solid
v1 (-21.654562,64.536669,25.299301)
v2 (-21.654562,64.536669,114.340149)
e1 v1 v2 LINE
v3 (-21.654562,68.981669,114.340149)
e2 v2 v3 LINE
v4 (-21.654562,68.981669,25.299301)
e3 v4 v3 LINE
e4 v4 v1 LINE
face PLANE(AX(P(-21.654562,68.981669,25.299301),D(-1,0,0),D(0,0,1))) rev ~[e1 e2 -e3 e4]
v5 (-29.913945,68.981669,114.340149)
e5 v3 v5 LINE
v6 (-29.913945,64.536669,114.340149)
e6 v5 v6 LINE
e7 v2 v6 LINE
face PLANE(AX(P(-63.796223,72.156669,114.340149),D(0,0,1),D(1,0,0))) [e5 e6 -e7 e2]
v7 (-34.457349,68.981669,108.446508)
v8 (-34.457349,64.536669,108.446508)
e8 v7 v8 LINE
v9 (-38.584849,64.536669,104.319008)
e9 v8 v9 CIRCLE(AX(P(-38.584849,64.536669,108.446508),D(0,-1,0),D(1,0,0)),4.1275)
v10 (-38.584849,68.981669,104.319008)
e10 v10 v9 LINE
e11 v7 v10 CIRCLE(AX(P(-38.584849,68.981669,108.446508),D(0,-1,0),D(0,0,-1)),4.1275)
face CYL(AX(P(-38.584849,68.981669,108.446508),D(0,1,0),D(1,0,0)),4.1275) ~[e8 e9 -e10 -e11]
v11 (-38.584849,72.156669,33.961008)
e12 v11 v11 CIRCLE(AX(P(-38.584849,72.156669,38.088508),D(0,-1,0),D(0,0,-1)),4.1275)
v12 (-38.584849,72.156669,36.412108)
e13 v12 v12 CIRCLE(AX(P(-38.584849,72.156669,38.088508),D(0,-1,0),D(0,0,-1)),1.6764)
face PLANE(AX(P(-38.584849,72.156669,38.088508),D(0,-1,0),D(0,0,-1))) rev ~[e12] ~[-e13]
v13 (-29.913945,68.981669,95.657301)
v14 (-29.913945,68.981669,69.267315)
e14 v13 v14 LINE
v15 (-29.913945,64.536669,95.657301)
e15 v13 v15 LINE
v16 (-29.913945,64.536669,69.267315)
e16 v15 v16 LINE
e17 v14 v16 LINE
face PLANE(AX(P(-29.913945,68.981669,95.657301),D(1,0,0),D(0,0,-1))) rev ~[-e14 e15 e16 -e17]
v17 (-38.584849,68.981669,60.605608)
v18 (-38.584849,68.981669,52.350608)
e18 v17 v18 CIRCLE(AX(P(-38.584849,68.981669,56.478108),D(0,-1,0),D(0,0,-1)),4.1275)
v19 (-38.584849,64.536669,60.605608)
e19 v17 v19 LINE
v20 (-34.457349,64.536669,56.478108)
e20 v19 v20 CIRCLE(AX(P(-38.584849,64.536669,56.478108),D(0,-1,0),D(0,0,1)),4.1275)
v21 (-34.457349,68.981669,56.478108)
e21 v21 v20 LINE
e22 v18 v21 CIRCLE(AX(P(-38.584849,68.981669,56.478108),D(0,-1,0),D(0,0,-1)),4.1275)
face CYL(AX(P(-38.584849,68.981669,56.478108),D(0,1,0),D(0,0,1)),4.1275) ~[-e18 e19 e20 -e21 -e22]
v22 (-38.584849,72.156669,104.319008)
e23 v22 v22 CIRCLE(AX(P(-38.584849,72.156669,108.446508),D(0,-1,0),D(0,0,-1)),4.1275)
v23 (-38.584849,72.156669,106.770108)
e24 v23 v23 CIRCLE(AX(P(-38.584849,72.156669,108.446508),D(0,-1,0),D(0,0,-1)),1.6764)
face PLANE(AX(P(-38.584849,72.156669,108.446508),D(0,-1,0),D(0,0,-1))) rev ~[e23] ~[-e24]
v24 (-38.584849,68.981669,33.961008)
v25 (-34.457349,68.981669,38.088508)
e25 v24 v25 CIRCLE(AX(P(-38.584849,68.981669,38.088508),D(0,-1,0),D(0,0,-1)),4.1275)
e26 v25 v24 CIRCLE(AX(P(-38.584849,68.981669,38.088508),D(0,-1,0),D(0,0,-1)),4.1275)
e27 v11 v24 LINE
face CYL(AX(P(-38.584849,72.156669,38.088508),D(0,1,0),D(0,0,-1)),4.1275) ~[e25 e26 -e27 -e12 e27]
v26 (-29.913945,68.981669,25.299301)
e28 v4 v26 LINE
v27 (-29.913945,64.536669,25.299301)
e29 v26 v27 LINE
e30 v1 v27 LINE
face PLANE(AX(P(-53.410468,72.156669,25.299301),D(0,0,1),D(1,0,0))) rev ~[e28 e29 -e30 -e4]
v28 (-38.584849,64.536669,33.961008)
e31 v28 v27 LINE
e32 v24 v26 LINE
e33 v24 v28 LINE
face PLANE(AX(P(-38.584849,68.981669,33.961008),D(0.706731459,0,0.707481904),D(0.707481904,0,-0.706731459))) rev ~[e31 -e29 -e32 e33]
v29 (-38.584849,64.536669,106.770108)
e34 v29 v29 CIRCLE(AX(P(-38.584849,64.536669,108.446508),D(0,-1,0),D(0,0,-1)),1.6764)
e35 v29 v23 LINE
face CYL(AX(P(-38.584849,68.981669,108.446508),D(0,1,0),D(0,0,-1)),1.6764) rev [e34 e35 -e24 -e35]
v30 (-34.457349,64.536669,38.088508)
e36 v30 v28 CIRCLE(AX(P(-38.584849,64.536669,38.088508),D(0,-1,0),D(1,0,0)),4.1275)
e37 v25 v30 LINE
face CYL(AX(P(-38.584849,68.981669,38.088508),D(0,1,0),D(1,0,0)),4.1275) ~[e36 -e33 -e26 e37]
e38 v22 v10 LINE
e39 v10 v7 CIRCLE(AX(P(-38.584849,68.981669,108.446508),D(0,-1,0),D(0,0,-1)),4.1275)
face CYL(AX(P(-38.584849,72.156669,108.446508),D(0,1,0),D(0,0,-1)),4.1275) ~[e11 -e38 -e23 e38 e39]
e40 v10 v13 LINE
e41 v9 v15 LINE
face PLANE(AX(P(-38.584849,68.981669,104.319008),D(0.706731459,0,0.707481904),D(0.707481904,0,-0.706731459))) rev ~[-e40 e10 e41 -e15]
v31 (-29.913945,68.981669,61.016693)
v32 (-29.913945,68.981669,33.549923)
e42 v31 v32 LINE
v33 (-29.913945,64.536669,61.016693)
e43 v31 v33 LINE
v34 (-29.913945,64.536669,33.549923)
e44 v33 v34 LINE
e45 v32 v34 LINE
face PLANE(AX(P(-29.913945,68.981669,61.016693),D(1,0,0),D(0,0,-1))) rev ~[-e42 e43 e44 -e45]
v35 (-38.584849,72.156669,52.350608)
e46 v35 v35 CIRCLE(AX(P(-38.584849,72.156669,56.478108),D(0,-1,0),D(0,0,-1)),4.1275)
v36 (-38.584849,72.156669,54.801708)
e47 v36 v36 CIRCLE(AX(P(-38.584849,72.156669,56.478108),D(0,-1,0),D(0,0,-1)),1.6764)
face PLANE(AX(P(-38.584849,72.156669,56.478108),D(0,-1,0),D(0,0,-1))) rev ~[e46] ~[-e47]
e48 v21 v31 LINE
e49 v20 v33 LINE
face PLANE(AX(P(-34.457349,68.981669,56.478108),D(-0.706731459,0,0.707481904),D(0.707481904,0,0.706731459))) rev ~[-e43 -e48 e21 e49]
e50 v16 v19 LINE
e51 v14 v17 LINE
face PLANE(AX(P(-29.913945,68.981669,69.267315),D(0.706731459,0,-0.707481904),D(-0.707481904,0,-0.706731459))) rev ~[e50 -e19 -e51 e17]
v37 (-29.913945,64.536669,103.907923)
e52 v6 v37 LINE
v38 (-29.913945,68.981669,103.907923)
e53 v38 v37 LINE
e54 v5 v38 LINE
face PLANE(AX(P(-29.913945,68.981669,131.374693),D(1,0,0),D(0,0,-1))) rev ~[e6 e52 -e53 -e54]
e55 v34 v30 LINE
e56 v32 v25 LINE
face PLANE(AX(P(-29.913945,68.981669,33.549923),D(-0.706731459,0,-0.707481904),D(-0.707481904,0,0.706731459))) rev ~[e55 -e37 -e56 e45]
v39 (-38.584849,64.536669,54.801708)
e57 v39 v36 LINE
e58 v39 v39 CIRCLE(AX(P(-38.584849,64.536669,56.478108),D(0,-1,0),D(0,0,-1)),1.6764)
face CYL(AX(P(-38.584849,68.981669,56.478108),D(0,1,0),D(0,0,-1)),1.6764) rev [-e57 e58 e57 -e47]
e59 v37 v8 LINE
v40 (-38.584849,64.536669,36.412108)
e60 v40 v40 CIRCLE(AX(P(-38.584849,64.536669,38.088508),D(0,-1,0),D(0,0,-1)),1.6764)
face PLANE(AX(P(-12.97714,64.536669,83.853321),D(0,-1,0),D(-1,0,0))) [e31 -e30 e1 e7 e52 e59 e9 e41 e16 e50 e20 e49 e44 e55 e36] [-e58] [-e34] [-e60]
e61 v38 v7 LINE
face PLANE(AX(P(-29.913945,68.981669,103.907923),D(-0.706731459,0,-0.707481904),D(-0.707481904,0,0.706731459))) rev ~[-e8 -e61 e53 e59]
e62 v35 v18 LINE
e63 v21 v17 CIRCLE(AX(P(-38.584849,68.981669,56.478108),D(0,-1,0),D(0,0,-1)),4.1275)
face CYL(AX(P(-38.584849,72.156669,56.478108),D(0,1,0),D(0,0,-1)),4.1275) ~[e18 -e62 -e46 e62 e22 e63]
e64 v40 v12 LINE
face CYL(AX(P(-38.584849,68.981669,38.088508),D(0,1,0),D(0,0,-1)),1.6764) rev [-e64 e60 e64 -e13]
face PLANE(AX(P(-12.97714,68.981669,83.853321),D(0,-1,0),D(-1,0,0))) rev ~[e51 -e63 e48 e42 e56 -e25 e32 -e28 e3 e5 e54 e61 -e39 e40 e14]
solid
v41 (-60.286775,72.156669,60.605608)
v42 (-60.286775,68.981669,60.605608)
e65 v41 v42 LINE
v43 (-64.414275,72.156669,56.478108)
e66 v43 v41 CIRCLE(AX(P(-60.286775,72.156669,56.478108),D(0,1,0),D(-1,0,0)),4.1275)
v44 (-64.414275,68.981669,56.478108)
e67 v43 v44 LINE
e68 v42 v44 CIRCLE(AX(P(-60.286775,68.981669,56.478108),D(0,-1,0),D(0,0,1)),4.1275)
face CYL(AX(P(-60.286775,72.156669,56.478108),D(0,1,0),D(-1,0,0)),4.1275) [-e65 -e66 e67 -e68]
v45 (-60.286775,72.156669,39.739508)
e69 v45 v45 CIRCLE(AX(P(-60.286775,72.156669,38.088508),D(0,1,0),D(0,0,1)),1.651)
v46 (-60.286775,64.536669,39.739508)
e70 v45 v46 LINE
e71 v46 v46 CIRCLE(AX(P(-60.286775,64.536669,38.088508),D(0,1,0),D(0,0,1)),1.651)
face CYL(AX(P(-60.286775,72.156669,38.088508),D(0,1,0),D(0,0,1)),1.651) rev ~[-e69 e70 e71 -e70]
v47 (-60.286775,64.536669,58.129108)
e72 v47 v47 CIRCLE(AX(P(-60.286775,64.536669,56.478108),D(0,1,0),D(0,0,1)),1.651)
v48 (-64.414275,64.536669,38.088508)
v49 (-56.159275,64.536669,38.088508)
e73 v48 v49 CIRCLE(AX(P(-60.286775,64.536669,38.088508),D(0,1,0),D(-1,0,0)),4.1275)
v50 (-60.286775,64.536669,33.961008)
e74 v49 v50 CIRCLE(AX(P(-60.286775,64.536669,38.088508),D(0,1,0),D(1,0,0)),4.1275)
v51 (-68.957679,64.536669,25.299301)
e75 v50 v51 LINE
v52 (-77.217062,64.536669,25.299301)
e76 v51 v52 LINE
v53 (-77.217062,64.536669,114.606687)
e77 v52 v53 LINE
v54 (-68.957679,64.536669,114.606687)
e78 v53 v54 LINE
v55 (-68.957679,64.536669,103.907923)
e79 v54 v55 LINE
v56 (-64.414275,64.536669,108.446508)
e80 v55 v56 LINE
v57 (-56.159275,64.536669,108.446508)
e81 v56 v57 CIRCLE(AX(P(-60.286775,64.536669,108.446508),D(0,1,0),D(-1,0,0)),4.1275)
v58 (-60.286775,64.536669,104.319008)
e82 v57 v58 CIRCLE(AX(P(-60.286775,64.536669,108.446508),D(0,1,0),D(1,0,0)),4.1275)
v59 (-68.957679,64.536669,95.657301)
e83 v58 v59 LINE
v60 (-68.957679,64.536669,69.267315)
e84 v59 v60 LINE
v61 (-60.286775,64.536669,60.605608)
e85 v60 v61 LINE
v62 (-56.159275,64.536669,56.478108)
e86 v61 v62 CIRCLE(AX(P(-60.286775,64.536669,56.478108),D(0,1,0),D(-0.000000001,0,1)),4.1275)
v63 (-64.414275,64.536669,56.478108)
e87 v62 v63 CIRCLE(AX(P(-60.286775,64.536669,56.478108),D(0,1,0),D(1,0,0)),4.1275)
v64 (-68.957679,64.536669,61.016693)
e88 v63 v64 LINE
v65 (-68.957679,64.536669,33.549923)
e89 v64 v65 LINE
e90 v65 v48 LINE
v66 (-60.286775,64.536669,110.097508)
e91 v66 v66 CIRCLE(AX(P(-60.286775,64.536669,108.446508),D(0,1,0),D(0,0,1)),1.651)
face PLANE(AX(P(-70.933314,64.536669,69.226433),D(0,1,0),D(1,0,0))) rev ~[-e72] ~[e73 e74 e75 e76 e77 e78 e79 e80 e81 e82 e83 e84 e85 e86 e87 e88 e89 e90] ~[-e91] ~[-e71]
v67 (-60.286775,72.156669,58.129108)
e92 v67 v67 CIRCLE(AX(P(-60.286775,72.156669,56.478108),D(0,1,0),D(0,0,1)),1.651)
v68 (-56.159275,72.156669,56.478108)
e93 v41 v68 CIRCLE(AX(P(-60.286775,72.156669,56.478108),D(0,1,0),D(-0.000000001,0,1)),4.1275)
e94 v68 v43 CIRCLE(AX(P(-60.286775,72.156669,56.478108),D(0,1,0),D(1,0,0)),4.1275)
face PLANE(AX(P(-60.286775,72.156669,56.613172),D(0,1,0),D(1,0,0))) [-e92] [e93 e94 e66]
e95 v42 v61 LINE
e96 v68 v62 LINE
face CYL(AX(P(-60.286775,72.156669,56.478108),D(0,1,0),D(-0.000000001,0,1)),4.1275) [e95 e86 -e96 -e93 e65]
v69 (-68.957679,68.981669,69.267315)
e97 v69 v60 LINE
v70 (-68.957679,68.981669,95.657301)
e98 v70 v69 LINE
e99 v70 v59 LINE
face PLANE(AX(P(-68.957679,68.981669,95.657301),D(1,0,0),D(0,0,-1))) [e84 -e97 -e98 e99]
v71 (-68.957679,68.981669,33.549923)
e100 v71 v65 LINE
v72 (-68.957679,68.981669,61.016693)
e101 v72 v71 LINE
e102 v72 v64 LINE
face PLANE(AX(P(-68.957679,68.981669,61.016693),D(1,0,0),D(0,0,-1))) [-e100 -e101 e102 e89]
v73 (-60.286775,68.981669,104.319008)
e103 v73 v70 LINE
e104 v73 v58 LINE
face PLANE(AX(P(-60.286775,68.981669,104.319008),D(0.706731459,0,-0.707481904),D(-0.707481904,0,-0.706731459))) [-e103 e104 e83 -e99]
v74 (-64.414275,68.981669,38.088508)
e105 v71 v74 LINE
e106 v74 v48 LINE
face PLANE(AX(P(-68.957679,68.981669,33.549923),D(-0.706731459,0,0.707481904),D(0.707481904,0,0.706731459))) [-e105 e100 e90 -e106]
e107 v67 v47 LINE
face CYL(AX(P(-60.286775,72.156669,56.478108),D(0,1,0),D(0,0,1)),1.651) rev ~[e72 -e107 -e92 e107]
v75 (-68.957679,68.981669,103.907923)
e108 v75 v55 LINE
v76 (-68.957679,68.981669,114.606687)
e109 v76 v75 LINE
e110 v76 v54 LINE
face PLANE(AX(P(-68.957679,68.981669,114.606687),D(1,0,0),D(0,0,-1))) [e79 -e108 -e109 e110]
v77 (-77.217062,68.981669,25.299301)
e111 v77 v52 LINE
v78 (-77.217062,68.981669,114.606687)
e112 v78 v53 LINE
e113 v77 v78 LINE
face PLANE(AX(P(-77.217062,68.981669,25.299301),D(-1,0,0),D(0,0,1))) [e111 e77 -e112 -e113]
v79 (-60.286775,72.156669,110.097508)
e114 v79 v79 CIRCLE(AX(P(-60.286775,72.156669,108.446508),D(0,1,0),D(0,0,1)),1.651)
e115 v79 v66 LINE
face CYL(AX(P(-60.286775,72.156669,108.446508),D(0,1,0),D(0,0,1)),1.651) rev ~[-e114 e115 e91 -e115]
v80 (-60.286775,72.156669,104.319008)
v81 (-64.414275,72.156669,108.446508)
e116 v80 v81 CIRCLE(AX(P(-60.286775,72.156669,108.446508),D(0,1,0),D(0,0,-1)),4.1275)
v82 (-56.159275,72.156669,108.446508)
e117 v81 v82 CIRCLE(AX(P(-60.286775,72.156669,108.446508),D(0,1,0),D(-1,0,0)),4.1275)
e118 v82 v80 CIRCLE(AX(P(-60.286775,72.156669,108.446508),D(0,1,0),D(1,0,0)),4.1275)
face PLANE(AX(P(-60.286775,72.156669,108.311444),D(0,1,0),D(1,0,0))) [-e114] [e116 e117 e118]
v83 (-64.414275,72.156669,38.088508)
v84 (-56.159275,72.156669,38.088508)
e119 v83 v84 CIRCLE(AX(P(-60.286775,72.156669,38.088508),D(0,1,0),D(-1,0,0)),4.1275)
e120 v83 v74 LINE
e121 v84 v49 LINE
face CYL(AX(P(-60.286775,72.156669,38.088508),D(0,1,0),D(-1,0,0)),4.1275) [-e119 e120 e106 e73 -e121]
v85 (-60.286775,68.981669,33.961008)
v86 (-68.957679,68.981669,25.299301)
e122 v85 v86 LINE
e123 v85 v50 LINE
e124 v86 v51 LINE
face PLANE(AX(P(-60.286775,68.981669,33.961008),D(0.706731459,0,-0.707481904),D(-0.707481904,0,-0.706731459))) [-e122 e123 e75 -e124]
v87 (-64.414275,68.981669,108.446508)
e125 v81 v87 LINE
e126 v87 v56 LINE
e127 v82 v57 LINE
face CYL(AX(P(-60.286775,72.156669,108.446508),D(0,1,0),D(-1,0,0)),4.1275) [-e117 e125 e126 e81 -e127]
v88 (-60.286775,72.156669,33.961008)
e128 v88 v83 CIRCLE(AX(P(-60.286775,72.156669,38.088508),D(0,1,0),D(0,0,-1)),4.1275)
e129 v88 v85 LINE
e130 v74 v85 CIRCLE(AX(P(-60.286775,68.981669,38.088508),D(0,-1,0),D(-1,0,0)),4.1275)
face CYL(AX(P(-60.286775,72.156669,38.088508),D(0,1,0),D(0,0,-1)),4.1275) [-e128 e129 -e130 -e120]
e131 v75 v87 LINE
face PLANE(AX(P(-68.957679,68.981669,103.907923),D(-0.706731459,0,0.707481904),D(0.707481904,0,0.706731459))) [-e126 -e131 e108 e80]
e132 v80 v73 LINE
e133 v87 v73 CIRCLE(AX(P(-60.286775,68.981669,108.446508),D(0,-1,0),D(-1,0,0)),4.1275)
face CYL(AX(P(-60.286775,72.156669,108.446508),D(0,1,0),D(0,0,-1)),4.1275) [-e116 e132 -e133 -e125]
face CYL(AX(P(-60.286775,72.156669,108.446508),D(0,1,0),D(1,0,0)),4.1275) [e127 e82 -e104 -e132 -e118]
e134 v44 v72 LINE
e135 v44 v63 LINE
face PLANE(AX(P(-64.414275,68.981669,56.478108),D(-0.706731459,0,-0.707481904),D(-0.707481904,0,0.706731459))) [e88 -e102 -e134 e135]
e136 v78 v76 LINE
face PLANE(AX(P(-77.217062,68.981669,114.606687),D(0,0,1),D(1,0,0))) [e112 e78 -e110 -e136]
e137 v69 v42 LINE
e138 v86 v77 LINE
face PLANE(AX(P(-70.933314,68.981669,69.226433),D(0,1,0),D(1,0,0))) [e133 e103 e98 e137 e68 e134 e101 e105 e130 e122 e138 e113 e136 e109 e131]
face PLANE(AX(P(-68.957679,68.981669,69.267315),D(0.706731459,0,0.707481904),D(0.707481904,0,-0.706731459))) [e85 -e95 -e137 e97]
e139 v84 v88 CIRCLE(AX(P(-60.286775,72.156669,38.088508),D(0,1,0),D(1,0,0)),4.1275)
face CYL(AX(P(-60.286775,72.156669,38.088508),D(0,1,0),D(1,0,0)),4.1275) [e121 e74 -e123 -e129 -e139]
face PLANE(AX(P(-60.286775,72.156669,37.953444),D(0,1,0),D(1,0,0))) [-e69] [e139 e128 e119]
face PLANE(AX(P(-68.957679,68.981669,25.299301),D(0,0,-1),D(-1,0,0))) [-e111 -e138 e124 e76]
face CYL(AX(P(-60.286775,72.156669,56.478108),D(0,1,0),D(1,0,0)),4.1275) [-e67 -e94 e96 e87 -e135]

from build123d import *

# Parameters (mm, degrees)
SKETCH1_R              = 4.1275
SKETCH1_R_2            = 1.6764
BOSS_EXTRUDE1_DEPTH    = 3.175
BOSS_EXTRUDE1_2_DEPTH  = 3.175
BOSS_EXTRUDE1_3_DEPTH  = 3.175
BOSS_EXTRUDE1_4_DEPTH  = 3.175
BOSS_EXTRUDE1_5_DEPTH  = 3.175
BOSS_EXTRUDE1_6_DEPTH  = 3.175
BOSS_EXTRUDE1_7_DEPTH  = 3.175
BOSS_EXTRUDE1_8_DEPTH  = 3.175
BOSS_EXTRUDE1_9_DEPTH  = 3.175
BOSS_EXTRUDE1_10_DEPTH = 3.175
BOSS_EXTRUDE1_11_DEPTH = 3.175
BOSS_EXTRUDE1_12_DEPTH = 3.175
SKETCH2_R              = 1.6764
SKETCH2_R_2            = 1.597419346
BOSS_EXTRUDE2_DEPTH    = 4.445
SKETCH3_R              = 4.1275
SKETCH3_R_2            = 1.6764
BOSS_EXTRUDE3_DEPTH    = 6.35
SKETCH5_W              = 93.927077551
SKETCH5_H              = 52.017280011
CUT_EXTRUDE1_DEPTH     = 189.093566893
SKETCH6_W              = 99.512687727
SKETCH6_H              = 74.862867045
CUT_EXTRUDE3_DEPTH     = 189.006725097
SKETCH7_R              = 1.651
BOSS_EXTRUDE5_DEPTH    = 7.62
BOSS_EXTRUDE5_2_DEPTH  = 7.62
BOSS_EXTRUDE5_3_DEPTH  = 7.62
BOSS_EXTRUDE6_DEPTH    = 4.445
SKETCH10_W             = 53.220622609
SKETCH10_H             = 98.471007051
CUT_EXTRUDE4_DEPTH     = 139.402426653


with BuildPart() as part:
    # Sketch1 → Boss-Extrude1 (new body)
    with BuildSketch(Plane(origin=(0, 72.156669294, 0), x_dir=(-1, 0, 0), z_dir=(0, -1, 0))):
        with Locations(Location((-13.434351276, 13.879892008, 0), (0, 0, 90))):
            Circle(SKETCH1_R)
        with Locations(Location((-13.434351276, 13.879892008, 0), (0, 0, 90))):
            Circle(SKETCH1_R_2, mode=Mode.SUBTRACT)
    extrude(amount=BOSS_EXTRUDE1_DEPTH)



with BuildPart() as body_2:
    # Sketch1 → Boss-Extrude1 2 (new body)
    with BuildSketch(Plane(origin=(0, 72.156669294, 0), x_dir=(-1, 0, 0), z_dir=(0, -1, 0))):
        with Locations(Location((38.584848724, 13.879892008, 0), (0, 0, 90))):
            Circle(SKETCH1_R)
        with Locations(Location((38.584848724, 13.879892008, 0), (0, 0, 90))):
            Circle(SKETCH1_R_2, mode=Mode.SUBTRACT)
    extrude(amount=BOSS_EXTRUDE1_2_DEPTH)



with BuildPart() as body_3:
    # Sketch1 → Boss-Extrude1 3 (new body)
    with BuildSketch(Plane(origin=(0, 72.156669294, 0), x_dir=(-1, 0, 0), z_dir=(0, -1, 0))):
        with Locations(Location((-13.434351276, -38.088507992, 0), (0, 0, 90))):
            Circle(SKETCH1_R)
        with Locations(Location((-13.434351276, -38.088507992, 0), (0, 0, 90))):
            Circle(SKETCH1_R_2, mode=Mode.SUBTRACT)
    extrude(amount=BOSS_EXTRUDE1_3_DEPTH)


with BuildPart() as body_4:
    # Sketch1 → Boss-Extrude1 4 (new body)
    with BuildSketch(Plane(origin=(0, 72.156669294, 0), x_dir=(-1, 0, 0), z_dir=(0, -1, 0))):
        with Locations(Location((38.584848724, -38.088507992, 0), (0, 0, 90))):
            Circle(SKETCH1_R)
        with Locations(Location((38.584848724, -38.088507992, 0), (0, 0, 90))):
            Circle(SKETCH1_R_2, mode=Mode.SUBTRACT)
    extrude(amount=BOSS_EXTRUDE1_4_DEPTH)


with BuildPart() as body_5:
    # Sketch1 → Boss-Extrude1 5 (new body)
    with BuildSketch(Plane(origin=(0, 72.156669294, 0), x_dir=(-1, 0, 0), z_dir=(0, -1, 0))):
        with Locations(Location((-13.434351276, -56.478107992, 0), (0, 0, 90))):
            Circle(SKETCH1_R)
        with Locations(Location((-13.434351276, -56.478107992, 0), (0, 0, 90))):
            Circle(SKETCH1_R_2, mode=Mode.SUBTRACT)
    extrude(amount=BOSS_EXTRUDE1_5_DEPTH)


with BuildPart() as body_6:
    # Sketch1 → Boss-Extrude1 6 (new body)
    with BuildSketch(Plane(origin=(0, 72.156669294, 0), x_dir=(-1, 0, 0), z_dir=(0, -1, 0))):
        with Locations(Location((38.584848724, -56.478107992, 0), (0, 0, 90))):
            Circle(SKETCH1_R)
        with Locations(Location((38.584848724, -56.478107992, 0), (0, 0, 90))):
            Circle(SKETCH1_R_2, mode=Mode.SUBTRACT)
    extrude(amount=BOSS_EXTRUDE1_6_DEPTH)


with BuildPart() as body_7:
    # Sketch1 → Boss-Extrude1 7 (new body)
    with BuildSketch(Plane(origin=(0, 72.156669294, 0), x_dir=(-1, 0, 0), z_dir=(0, -1, 0))):
        with Locations(Location((-13.434351276, -108.446507992, 0), (0, 0, 90))):
            Circle(SKETCH1_R)
        with Locations(Location((-13.434351276, -108.446507992, 0), (0, 0, 90))):
            Circle(SKETCH1_R_2, mode=Mode.SUBTRACT)
    extrude(amount=BOSS_EXTRUDE1_7_DEPTH)


with BuildPart() as body_8:
    # Sketch1 → Boss-Extrude1 8 (new body)
    with BuildSketch(Plane(origin=(0, 72.156669294, 0), x_dir=(-1, 0, 0), z_dir=(0, -1, 0))):
        with Locations(Location((38.584848724, -108.446507992, 0), (0, 0, 90))):
            Circle(SKETCH1_R)
        with Locations(Location((38.584848724, -108.446507992, 0), (0, 0, 90))):
            Circle(SKETCH1_R_2, mode=Mode.SUBTRACT)
    extrude(amount=BOSS_EXTRUDE1_8_DEPTH)


with BuildPart() as body_9:
    # Sketch1 → Boss-Extrude1 9 (new body)
    with BuildSketch(Plane(origin=(0, 72.156669294, 0), x_dir=(-1, 0, 0), z_dir=(0, -1, 0))):
        with Locations(Location((-13.434351276, -126.836107992, 0), (0, 0, 90))):
            Circle(SKETCH1_R)
        with Locations(Location((-13.434351276, -126.836107992, 0), (0, 0, 90))):
            Circle(SKETCH1_R_2, mode=Mode.SUBTRACT)
    extrude(amount=BOSS_EXTRUDE1_9_DEPTH)


with BuildPart() as body_10:
    # Sketch1 → Boss-Extrude1 10 (new body)
    with BuildSketch(Plane(origin=(0, 72.156669294, 0), x_dir=(-1, 0, 0), z_dir=(0, -1, 0))):
        with Locations(Location((38.584848724, -126.836107992, 0), (0, 0, 90))):
            Circle(SKETCH1_R)
        with Locations(Location((38.584848724, -126.836107992, 0), (0, 0, 90))):
            Circle(SKETCH1_R_2, mode=Mode.SUBTRACT)
    extrude(amount=BOSS_EXTRUDE1_10_DEPTH)


with BuildPart() as body_11:
    # Sketch1 → Boss-Extrude1 11 (new body)
    with BuildSketch(Plane(origin=(0, 72.156669294, 0), x_dir=(-1, 0, 0), z_dir=(0, -1, 0))):
        with Locations(Location((-13.434351276, -178.804507992, 0), (0, 0, 90))):
            Circle(SKETCH1_R)
        with Locations(Location((-13.434351276, -178.804507992, 0), (0, 0, 90))):
            Circle(SKETCH1_R_2, mode=Mode.SUBTRACT)
    extrude(amount=BOSS_EXTRUDE1_11_DEPTH)


with BuildPart() as body_12:
    # Sketch1 → Boss-Extrude1 12 (new body)
    with BuildSketch(Plane(origin=(0, 72.156669294, 0), x_dir=(-1, 0, 0), z_dir=(0, -1, 0))):
        with Locations(Location((38.584848724, -178.804507992, 0), (0, 0, 90))):
            Circle(SKETCH1_R)
        with Locations(Location((38.584848724, -178.804507992, 0), (0, 0, 90))):
            Circle(SKETCH1_R_2, mode=Mode.SUBTRACT)
    extrude(amount=BOSS_EXTRUDE1_12_DEPTH)


with BuildPart() as body_2_1:
    add(body_2.part)

    add(body_3.part)  # Boss-Extrude2 merges body 3

    add(body_4.part)  # Boss-Extrude2 merges body 4

    add(body_5.part)  # Boss-Extrude2 merges body 5

    add(body_6.part)  # Boss-Extrude2 merges body 6

    add(body_7.part)  # Boss-Extrude2 merges body 7

    add(body_8.part)  # Boss-Extrude2 merges body 8

    add(body_9.part)  # Boss-Extrude2 merges body 9

    add(body_10.part)  # Boss-Extrude2 merges body 10

    add(body_11.part)  # Boss-Extrude2 merges body 11

    add(body_12.part)  # Boss-Extrude2 merges body 12
    # Sketch2 → Boss-Extrude2 (add)
    with BuildSketch(Plane(origin=(0, 68.981669294, 0), x_dir=(-1, 0, 0), z_dir=(0, -1, 0))):
        with BuildLine():
            Line((38.584848724, -174.677007992), (29.913944503, -166.01530123))
            Line((29.913944503, -166.01530123), (29.913944503, -139.625314754))
            Line((29.913944503, -139.625314754), (38.584848724, -130.963607992))
            ThreePointArc((38.584848724, -130.963607992), (41.503431963, -123.917524753), (34.457348724, -126.836107992))
            Line((34.457348724, -126.836107992), (29.913944503, -131.374692903))
            Line((29.913944503, -131.374692903), (29.913944503, -103.907923081))
            Line((29.913944503, -103.907923081), (34.457348724, -108.446507992))
            ThreePointArc((34.457348724, -108.446507992), (41.503431963, -111.365091232), (38.584848724, -104.319007992))
            Line((38.584848724, -104.319007992), (29.913944503, -95.65730123))
            Line((29.913944503, -95.65730123), (29.913944503, -69.267314754))
            Line((29.913944503, -69.267314754), (38.584848724, -60.605607992))
            ThreePointArc((38.584848724, -60.605607992), (41.503431963, -53.559524753), (34.457348724, -56.478107992))
            Line((34.457348724, -56.478107992), (29.913944503, -61.016692903))
            Line((29.913944503, -61.016692903), (29.913944503, -33.549923081))
            Line((29.913944503, -33.549923081), (34.457348724, -38.088507992))
            ThreePointArc((34.457348724, -38.088507992), (41.503431963, -41.007091232), (38.584848724, -33.961007992))
            Line((38.584848724, -33.961007992), (29.913944503, -25.29930123))
            Line((29.913944503, -25.29930123), (29.913944503, 1.090685246))
            Line((29.913944503, 1.090685246), (38.584848724, 9.752392008))
            ThreePointArc((38.584848724, 9.752392008), (41.503431963, 16.798475247), (34.457348724, 13.879892008))
            Line((34.457348724, 13.879892008), (12.575248724, -7.978997067))
            Line((12.575248724, -7.978997067), (-9.306851276, 13.879892008))
            ThreePointArc((-9.306851276, 13.879892008), (-10.515768037, 10.961308768), (-13.434351276, 9.752392008))
            Line((-13.434351276, 9.752392008), (-4.763447055, 1.090685246))
            Line((-4.763447055, 1.090685246), (-4.763447055, -25.29930123))
            Line((-4.763447055, -25.29930123), (-13.434351276, -33.961007992))
            ThreePointArc((-13.434351276, -33.961007992), (-16.352934515, -41.007091232), (-9.306851276, -38.088507992))
            Line((-9.306851276, -38.088507992), (-4.763447055, -33.549923081))
            Line((-4.763447055, -33.549923081), (-4.763447055, -61.016692903))
            Line((-4.763447055, -61.016692903), (-9.306851276, -56.478107992))
            ThreePointArc((-9.306851276, -56.478107992), (-16.352934515, -53.559524753), (-13.434351276, -60.605607992))
            Line((-13.434351276, -60.605607992), (-4.763447055, -69.267314754))
            Line((-4.763447055, -69.267314754), (-4.763447055, -95.65730123))
            Line((-4.763447055, -95.65730123), (-13.434351276, -104.319007992))
            ThreePointArc((-13.434351276, -104.319007992), (-16.352934515, -111.365091232), (-9.306851276, -108.446507992))
            Line((-9.306851276, -108.446507992), (-4.763447055, -103.907923081))
            Line((-4.763447055, -103.907923081), (-4.763447055, -131.374692903))
            Line((-4.763447055, -131.374692903), (-9.306851276, -126.836107992))
            ThreePointArc((-9.306851276, -126.836107992), (-16.352934515, -123.917524753), (-13.434351276, -130.963607992))
            Line((-13.434351276, -130.963607992), (-4.763447055, -139.625314754))
            Line((-4.763447055, -139.625314754), (-4.763447055, -166.01530123))
            Line((-4.763447055, -166.01530123), (-13.434351276, -174.677007992))
            ThreePointArc((-13.434351276, -174.677007992), (-16.352934515, -181.723091232), (-9.306851276, -178.804507992))
            Line((-9.306851276, -178.804507992), (12.575248724, -156.945618918))
            Line((12.575248724, -156.945618918), (34.457348724, -178.804507992))
            ThreePointArc((34.457348724, -178.804507992), (41.503431963, -181.723091232), (38.584848724, -174.677007992))
        make_face()
        with Locations(Location((-13.434351276, -178.804507992, 0), (0, 0, 90))):
            Circle(SKETCH2_R, mode=Mode.SUBTRACT)
        Polygon((8.445557325, -152.820307992), (3.495935743, -157.764679379), (3.495935743, -147.875936605), align=None, mode=Mode.SUBTRACT)
        with Locations(Location((-13.434351276, -126.836107992, 0), (0, 0, 90))):
            Circle(SKETCH2_R, mode=Mode.SUBTRACT)
        Polygon((16.704940123, -152.820307992), (21.654561705, -147.875936605), (21.654561705, -157.764679379), align=None, mode=Mode.SUBTRACT)
        with Locations(Location((38.584848724, -178.804507992, 0), (0, 0, 90))):
            Circle(SKETCH2_R, mode=Mode.SUBTRACT)
        with Locations(Location((38.584848724, -126.836107992, 0), (0, 0, 90))):
            Circle(SKETCH2_R, mode=Mode.SUBTRACT)
        with Locations(Location((38.584848724, -108.446507992, 0), (0, 0, 90))):
            Circle(SKETCH2_R, mode=Mode.SUBTRACT)
        with Locations(Location((-13.434351276, -56.478107992, 0), (0, 0, 90))):
            Circle(SKETCH2_R, mode=Mode.SUBTRACT)
        with Locations(Location((-13.434351276, -38.088507992, 0), (0, 0, 90))):
            Circle(SKETCH2_R, mode=Mode.SUBTRACT)
        Polygon((8.445557325, -12.104307992), (3.495935743, -17.048679379), (3.495935743, -7.159936605), align=None, mode=Mode.SUBTRACT)
        Polygon((3.495935743, -25.29930123), (12.575248724, -16.229618918), (21.654561705, -25.29930123), (21.654561705, -139.625314754), (12.575248724, -148.694997067), (3.495935743, -139.625314754), align=None, mode=Mode.SUBTRACT)
        with Locations(Location((38.584848724, -56.478107992, 0), (0, 0, 90))):
            Circle(SKETCH2_R, mode=Mode.SUBTRACT)
        with Locations(Location((38.584848724, -38.088507992, 0), (0, 0, 90))):
            Circle(SKETCH2_R, mode=Mode.SUBTRACT)
        Polygon((16.704940123, -12.104307992), (21.654561705, -7.159936605), (21.654561705, -17.048679379), align=None, mode=Mode.SUBTRACT)
        with Locations(Location((38.584848724, 13.879892008, 0), (0, 0, 90))):
            Circle(SKETCH2_R, mode=Mode.SUBTRACT)
        with Locations(Location((-13.434351276, -108.446507992, 0), (0, 0, 90))):
            Circle(SKETCH2_R_2, mode=Mode.SUBTRACT)
    extrude(amount=BOSS_EXTRUDE2_DEPTH)


with BuildPart() as part_1:
    add(part.part)

    add(body_2_1.part)  # Boss-Extrude3 merges body 2
    # Sketch3 → Boss-Extrude3 (add)
    with BuildSketch(Plane(origin=(0, 68.981669294, 0), x_dir=(-1, 0, 0), z_dir=(0, -1, 0))):
        with Locations(Location((-13.434351276, 13.879892008, 0), (0, 0, 90))):
            Circle(SKETCH3_R)
        with Locations(Location((-13.434351276, 13.879892008, 0), (0, 0, 90))):
            Circle(SKETCH3_R_2, mode=Mode.SUBTRACT)
    extrude(amount=BOSS_EXTRUDE3_DEPTH)

    # Sketch5 → Cut-Extrude1 (cut, through all)
    with BuildSketch(Plane(origin=(0, 72.156669294, 0), x_dir=(1, 0, 0), z_dir=(0, 1, 0))):
        with Locations((-6.446929607, 0.709338776)):
            Rectangle(SKETCH5_W, SKETCH5_H)
    extrude(amount=-CUT_EXTRUDE1_DEPTH, mode=Mode.SUBTRACT)

    # Sketch6 → Cut-Extrude3 (cut, through all)
    with BuildSketch(Plane(origin=(0, 72.156669294, 0), x_dir=(1, 0, 0), z_dir=(0, 1, 0))):
        with Locations((-14.039878686, -151.771582362)):
            Rectangle(SKETCH6_W, SKETCH6_H)
    extrude(amount=-CUT_EXTRUDE3_DEPTH, mode=Mode.SUBTRACT)


with BuildPart() as cut_extrude3_piece_1:
    # of the separate pieces the step leaves, piece 1, a body of its own (cut_extrude3_pieces)
    add(part_1.part.solids().sort_by_distance((9.306851276, 68.981669294, 108.446507992))[0])

    # Sketch10 → Cut-Extrude4 (cut, through all)
    with BuildSketch(Plane(origin=(0, 72.156669294, 0), x_dir=(1, 0, 0), z_dir=(0, 1, 0))):
        with Locations((18.323865827, -71.297393094)):
            Rectangle(SKETCH10_W, SKETCH10_H)
    extrude(amount=-CUT_EXTRUDE4_DEPTH, mode=Mode.SUBTRACT)


with BuildPart() as cut_extrude3_piece_2:
    # of the separate pieces the step leaves, piece 2, a body of its own (cut_extrude3_pieces)
    add(part_1.part.solids().sort_by_distance((-21.654561705, 68.981669294, 25.29930123))[0])


with BuildPart() as body_3_2:
    # Sketch7 → Boss-Extrude5 (new body)
    with BuildSketch(Plane(origin=(0, 72.156669294, 0), x_dir=(1, 0, 0), z_dir=(0, 1, 0))):
        with BuildLine():
            ThreePointArc((-56.159274687, -38.088507992), (-57.368191447, -35.169924753), (-60.286774687, -33.961007992))
            ThreePointArc((-60.286774687, -33.961007992), (-63.205357926, -35.169924753), (-64.414274687, -38.088507992))
            ThreePointArc((-64.414274687, -38.088507992), (-60.286774687, -42.216007992), (-56.159274687, -38.088507992))
        make_face()
        with Locations(Location((-60.286774687, -38.088507992, 0), (0, 0, 270))):
            Circle(SKETCH7_R, mode=Mode.SUBTRACT)
    extrude(amount=-BOSS_EXTRUDE5_DEPTH)



with BuildPart() as body_4_2:
    # Sketch7 → Boss-Extrude5 2 (new body)
    with BuildSketch(Plane(origin=(0, 72.156669294, 0), x_dir=(1, 0, 0), z_dir=(0, 1, 0))):
        with BuildLine():
            ThreePointArc((-56.159274687, -56.478107992), (-60.286774687, -52.350607992), (-64.414274687, -56.478107992))
            ThreePointArc((-64.414274687, -56.478107992), (-63.205357926, -59.396691232), (-60.286774687, -60.605607992))
            ThreePointArc((-60.286774687, -60.605607992), (-57.368191447, -59.396691232), (-56.159274687, -56.478107992))
        make_face()
        with Locations(Location((-60.286774687, -56.478107992, 0), (0, 0, 270))):
            Circle(SKETCH7_R, mode=Mode.SUBTRACT)
    extrude(amount=-BOSS_EXTRUDE5_2_DEPTH)


with BuildPart() as body_5_2:
    # Sketch7 → Boss-Extrude5 3 (new body)
    with BuildSketch(Plane(origin=(0, 72.156669294, 0), x_dir=(1, 0, 0), z_dir=(0, 1, 0))):
        with BuildLine():
            ThreePointArc((-60.286774687, -104.319007992), (-63.205357926, -105.527924753), (-64.414274687, -108.446507992))
            ThreePointArc((-64.414274687, -108.446507992), (-60.286774687, -112.574007992), (-56.159274687, -108.446507992))
            ThreePointArc((-56.159274687, -108.446507992), (-57.368191447, -105.527924753), (-60.286774687, -104.319007992))
        make_face()
        with Locations(Location((-60.286774687, -108.446507992, 0), (0, 0, 270))):
            Circle(SKETCH7_R, mode=Mode.SUBTRACT)
    extrude(amount=-BOSS_EXTRUDE5_3_DEPTH)


with BuildPart() as body_3_2_1:
    add(body_3_2.part)

    add(body_4_2.part)  # Boss-Extrude6 merges body 4 2

    add(body_5_2.part)  # Boss-Extrude6 merges body 5 2
    # Sketch9 → Boss-Extrude6 (add)
    with BuildSketch(Plane(origin=(0, 68.981669294, 0), x_dir=(1, 0, 0), z_dir=(0, 1, 0))):
        with BuildLine():
            Line((-68.957678907, -25.29930123), (-77.217061705, -25.29930123))
            Line((-77.217061705, -25.29930123), (-77.217061705, -114.606686913))
            Line((-77.217061705, -114.606686913), (-68.957678907, -114.606686913))
            Line((-68.957678907, -114.606686913), (-68.957678907, -103.907923081))
            Line((-68.957678907, -103.907923081), (-64.414274687, -108.446507992))
            ThreePointArc((-64.414274687, -108.446507992), (-63.205357926, -105.527924753), (-60.286774687, -104.319007992))
            Line((-60.286774687, -104.319007992), (-68.957678907, -95.65730123))
            Line((-68.957678907, -95.65730123), (-68.957678907, -69.267314754))
            Line((-68.957678907, -69.267314754), (-60.286774687, -60.605607992))
            ThreePointArc((-60.286774687, -60.605607992), (-63.205357926, -59.396691232), (-64.414274687, -56.478107992))
            Line((-64.414274687, -56.478107992), (-68.957678907, -61.016692903))
            Line((-68.957678907, -61.016692903), (-68.957678907, -33.549923081))
            Line((-68.957678907, -33.549923081), (-64.414274687, -38.088507992))
            ThreePointArc((-64.414274687, -38.088507992), (-63.205357926, -35.169924753), (-60.286774687, -33.961007992))
            Line((-60.286774687, -33.961007992), (-68.957678907, -25.29930123))
        make_face()
    extrude(amount=-BOSS_EXTRUDE6_DEPTH)


solid = Compound([cut_extrude3_piece_2.part, body_3_2_1.part])
